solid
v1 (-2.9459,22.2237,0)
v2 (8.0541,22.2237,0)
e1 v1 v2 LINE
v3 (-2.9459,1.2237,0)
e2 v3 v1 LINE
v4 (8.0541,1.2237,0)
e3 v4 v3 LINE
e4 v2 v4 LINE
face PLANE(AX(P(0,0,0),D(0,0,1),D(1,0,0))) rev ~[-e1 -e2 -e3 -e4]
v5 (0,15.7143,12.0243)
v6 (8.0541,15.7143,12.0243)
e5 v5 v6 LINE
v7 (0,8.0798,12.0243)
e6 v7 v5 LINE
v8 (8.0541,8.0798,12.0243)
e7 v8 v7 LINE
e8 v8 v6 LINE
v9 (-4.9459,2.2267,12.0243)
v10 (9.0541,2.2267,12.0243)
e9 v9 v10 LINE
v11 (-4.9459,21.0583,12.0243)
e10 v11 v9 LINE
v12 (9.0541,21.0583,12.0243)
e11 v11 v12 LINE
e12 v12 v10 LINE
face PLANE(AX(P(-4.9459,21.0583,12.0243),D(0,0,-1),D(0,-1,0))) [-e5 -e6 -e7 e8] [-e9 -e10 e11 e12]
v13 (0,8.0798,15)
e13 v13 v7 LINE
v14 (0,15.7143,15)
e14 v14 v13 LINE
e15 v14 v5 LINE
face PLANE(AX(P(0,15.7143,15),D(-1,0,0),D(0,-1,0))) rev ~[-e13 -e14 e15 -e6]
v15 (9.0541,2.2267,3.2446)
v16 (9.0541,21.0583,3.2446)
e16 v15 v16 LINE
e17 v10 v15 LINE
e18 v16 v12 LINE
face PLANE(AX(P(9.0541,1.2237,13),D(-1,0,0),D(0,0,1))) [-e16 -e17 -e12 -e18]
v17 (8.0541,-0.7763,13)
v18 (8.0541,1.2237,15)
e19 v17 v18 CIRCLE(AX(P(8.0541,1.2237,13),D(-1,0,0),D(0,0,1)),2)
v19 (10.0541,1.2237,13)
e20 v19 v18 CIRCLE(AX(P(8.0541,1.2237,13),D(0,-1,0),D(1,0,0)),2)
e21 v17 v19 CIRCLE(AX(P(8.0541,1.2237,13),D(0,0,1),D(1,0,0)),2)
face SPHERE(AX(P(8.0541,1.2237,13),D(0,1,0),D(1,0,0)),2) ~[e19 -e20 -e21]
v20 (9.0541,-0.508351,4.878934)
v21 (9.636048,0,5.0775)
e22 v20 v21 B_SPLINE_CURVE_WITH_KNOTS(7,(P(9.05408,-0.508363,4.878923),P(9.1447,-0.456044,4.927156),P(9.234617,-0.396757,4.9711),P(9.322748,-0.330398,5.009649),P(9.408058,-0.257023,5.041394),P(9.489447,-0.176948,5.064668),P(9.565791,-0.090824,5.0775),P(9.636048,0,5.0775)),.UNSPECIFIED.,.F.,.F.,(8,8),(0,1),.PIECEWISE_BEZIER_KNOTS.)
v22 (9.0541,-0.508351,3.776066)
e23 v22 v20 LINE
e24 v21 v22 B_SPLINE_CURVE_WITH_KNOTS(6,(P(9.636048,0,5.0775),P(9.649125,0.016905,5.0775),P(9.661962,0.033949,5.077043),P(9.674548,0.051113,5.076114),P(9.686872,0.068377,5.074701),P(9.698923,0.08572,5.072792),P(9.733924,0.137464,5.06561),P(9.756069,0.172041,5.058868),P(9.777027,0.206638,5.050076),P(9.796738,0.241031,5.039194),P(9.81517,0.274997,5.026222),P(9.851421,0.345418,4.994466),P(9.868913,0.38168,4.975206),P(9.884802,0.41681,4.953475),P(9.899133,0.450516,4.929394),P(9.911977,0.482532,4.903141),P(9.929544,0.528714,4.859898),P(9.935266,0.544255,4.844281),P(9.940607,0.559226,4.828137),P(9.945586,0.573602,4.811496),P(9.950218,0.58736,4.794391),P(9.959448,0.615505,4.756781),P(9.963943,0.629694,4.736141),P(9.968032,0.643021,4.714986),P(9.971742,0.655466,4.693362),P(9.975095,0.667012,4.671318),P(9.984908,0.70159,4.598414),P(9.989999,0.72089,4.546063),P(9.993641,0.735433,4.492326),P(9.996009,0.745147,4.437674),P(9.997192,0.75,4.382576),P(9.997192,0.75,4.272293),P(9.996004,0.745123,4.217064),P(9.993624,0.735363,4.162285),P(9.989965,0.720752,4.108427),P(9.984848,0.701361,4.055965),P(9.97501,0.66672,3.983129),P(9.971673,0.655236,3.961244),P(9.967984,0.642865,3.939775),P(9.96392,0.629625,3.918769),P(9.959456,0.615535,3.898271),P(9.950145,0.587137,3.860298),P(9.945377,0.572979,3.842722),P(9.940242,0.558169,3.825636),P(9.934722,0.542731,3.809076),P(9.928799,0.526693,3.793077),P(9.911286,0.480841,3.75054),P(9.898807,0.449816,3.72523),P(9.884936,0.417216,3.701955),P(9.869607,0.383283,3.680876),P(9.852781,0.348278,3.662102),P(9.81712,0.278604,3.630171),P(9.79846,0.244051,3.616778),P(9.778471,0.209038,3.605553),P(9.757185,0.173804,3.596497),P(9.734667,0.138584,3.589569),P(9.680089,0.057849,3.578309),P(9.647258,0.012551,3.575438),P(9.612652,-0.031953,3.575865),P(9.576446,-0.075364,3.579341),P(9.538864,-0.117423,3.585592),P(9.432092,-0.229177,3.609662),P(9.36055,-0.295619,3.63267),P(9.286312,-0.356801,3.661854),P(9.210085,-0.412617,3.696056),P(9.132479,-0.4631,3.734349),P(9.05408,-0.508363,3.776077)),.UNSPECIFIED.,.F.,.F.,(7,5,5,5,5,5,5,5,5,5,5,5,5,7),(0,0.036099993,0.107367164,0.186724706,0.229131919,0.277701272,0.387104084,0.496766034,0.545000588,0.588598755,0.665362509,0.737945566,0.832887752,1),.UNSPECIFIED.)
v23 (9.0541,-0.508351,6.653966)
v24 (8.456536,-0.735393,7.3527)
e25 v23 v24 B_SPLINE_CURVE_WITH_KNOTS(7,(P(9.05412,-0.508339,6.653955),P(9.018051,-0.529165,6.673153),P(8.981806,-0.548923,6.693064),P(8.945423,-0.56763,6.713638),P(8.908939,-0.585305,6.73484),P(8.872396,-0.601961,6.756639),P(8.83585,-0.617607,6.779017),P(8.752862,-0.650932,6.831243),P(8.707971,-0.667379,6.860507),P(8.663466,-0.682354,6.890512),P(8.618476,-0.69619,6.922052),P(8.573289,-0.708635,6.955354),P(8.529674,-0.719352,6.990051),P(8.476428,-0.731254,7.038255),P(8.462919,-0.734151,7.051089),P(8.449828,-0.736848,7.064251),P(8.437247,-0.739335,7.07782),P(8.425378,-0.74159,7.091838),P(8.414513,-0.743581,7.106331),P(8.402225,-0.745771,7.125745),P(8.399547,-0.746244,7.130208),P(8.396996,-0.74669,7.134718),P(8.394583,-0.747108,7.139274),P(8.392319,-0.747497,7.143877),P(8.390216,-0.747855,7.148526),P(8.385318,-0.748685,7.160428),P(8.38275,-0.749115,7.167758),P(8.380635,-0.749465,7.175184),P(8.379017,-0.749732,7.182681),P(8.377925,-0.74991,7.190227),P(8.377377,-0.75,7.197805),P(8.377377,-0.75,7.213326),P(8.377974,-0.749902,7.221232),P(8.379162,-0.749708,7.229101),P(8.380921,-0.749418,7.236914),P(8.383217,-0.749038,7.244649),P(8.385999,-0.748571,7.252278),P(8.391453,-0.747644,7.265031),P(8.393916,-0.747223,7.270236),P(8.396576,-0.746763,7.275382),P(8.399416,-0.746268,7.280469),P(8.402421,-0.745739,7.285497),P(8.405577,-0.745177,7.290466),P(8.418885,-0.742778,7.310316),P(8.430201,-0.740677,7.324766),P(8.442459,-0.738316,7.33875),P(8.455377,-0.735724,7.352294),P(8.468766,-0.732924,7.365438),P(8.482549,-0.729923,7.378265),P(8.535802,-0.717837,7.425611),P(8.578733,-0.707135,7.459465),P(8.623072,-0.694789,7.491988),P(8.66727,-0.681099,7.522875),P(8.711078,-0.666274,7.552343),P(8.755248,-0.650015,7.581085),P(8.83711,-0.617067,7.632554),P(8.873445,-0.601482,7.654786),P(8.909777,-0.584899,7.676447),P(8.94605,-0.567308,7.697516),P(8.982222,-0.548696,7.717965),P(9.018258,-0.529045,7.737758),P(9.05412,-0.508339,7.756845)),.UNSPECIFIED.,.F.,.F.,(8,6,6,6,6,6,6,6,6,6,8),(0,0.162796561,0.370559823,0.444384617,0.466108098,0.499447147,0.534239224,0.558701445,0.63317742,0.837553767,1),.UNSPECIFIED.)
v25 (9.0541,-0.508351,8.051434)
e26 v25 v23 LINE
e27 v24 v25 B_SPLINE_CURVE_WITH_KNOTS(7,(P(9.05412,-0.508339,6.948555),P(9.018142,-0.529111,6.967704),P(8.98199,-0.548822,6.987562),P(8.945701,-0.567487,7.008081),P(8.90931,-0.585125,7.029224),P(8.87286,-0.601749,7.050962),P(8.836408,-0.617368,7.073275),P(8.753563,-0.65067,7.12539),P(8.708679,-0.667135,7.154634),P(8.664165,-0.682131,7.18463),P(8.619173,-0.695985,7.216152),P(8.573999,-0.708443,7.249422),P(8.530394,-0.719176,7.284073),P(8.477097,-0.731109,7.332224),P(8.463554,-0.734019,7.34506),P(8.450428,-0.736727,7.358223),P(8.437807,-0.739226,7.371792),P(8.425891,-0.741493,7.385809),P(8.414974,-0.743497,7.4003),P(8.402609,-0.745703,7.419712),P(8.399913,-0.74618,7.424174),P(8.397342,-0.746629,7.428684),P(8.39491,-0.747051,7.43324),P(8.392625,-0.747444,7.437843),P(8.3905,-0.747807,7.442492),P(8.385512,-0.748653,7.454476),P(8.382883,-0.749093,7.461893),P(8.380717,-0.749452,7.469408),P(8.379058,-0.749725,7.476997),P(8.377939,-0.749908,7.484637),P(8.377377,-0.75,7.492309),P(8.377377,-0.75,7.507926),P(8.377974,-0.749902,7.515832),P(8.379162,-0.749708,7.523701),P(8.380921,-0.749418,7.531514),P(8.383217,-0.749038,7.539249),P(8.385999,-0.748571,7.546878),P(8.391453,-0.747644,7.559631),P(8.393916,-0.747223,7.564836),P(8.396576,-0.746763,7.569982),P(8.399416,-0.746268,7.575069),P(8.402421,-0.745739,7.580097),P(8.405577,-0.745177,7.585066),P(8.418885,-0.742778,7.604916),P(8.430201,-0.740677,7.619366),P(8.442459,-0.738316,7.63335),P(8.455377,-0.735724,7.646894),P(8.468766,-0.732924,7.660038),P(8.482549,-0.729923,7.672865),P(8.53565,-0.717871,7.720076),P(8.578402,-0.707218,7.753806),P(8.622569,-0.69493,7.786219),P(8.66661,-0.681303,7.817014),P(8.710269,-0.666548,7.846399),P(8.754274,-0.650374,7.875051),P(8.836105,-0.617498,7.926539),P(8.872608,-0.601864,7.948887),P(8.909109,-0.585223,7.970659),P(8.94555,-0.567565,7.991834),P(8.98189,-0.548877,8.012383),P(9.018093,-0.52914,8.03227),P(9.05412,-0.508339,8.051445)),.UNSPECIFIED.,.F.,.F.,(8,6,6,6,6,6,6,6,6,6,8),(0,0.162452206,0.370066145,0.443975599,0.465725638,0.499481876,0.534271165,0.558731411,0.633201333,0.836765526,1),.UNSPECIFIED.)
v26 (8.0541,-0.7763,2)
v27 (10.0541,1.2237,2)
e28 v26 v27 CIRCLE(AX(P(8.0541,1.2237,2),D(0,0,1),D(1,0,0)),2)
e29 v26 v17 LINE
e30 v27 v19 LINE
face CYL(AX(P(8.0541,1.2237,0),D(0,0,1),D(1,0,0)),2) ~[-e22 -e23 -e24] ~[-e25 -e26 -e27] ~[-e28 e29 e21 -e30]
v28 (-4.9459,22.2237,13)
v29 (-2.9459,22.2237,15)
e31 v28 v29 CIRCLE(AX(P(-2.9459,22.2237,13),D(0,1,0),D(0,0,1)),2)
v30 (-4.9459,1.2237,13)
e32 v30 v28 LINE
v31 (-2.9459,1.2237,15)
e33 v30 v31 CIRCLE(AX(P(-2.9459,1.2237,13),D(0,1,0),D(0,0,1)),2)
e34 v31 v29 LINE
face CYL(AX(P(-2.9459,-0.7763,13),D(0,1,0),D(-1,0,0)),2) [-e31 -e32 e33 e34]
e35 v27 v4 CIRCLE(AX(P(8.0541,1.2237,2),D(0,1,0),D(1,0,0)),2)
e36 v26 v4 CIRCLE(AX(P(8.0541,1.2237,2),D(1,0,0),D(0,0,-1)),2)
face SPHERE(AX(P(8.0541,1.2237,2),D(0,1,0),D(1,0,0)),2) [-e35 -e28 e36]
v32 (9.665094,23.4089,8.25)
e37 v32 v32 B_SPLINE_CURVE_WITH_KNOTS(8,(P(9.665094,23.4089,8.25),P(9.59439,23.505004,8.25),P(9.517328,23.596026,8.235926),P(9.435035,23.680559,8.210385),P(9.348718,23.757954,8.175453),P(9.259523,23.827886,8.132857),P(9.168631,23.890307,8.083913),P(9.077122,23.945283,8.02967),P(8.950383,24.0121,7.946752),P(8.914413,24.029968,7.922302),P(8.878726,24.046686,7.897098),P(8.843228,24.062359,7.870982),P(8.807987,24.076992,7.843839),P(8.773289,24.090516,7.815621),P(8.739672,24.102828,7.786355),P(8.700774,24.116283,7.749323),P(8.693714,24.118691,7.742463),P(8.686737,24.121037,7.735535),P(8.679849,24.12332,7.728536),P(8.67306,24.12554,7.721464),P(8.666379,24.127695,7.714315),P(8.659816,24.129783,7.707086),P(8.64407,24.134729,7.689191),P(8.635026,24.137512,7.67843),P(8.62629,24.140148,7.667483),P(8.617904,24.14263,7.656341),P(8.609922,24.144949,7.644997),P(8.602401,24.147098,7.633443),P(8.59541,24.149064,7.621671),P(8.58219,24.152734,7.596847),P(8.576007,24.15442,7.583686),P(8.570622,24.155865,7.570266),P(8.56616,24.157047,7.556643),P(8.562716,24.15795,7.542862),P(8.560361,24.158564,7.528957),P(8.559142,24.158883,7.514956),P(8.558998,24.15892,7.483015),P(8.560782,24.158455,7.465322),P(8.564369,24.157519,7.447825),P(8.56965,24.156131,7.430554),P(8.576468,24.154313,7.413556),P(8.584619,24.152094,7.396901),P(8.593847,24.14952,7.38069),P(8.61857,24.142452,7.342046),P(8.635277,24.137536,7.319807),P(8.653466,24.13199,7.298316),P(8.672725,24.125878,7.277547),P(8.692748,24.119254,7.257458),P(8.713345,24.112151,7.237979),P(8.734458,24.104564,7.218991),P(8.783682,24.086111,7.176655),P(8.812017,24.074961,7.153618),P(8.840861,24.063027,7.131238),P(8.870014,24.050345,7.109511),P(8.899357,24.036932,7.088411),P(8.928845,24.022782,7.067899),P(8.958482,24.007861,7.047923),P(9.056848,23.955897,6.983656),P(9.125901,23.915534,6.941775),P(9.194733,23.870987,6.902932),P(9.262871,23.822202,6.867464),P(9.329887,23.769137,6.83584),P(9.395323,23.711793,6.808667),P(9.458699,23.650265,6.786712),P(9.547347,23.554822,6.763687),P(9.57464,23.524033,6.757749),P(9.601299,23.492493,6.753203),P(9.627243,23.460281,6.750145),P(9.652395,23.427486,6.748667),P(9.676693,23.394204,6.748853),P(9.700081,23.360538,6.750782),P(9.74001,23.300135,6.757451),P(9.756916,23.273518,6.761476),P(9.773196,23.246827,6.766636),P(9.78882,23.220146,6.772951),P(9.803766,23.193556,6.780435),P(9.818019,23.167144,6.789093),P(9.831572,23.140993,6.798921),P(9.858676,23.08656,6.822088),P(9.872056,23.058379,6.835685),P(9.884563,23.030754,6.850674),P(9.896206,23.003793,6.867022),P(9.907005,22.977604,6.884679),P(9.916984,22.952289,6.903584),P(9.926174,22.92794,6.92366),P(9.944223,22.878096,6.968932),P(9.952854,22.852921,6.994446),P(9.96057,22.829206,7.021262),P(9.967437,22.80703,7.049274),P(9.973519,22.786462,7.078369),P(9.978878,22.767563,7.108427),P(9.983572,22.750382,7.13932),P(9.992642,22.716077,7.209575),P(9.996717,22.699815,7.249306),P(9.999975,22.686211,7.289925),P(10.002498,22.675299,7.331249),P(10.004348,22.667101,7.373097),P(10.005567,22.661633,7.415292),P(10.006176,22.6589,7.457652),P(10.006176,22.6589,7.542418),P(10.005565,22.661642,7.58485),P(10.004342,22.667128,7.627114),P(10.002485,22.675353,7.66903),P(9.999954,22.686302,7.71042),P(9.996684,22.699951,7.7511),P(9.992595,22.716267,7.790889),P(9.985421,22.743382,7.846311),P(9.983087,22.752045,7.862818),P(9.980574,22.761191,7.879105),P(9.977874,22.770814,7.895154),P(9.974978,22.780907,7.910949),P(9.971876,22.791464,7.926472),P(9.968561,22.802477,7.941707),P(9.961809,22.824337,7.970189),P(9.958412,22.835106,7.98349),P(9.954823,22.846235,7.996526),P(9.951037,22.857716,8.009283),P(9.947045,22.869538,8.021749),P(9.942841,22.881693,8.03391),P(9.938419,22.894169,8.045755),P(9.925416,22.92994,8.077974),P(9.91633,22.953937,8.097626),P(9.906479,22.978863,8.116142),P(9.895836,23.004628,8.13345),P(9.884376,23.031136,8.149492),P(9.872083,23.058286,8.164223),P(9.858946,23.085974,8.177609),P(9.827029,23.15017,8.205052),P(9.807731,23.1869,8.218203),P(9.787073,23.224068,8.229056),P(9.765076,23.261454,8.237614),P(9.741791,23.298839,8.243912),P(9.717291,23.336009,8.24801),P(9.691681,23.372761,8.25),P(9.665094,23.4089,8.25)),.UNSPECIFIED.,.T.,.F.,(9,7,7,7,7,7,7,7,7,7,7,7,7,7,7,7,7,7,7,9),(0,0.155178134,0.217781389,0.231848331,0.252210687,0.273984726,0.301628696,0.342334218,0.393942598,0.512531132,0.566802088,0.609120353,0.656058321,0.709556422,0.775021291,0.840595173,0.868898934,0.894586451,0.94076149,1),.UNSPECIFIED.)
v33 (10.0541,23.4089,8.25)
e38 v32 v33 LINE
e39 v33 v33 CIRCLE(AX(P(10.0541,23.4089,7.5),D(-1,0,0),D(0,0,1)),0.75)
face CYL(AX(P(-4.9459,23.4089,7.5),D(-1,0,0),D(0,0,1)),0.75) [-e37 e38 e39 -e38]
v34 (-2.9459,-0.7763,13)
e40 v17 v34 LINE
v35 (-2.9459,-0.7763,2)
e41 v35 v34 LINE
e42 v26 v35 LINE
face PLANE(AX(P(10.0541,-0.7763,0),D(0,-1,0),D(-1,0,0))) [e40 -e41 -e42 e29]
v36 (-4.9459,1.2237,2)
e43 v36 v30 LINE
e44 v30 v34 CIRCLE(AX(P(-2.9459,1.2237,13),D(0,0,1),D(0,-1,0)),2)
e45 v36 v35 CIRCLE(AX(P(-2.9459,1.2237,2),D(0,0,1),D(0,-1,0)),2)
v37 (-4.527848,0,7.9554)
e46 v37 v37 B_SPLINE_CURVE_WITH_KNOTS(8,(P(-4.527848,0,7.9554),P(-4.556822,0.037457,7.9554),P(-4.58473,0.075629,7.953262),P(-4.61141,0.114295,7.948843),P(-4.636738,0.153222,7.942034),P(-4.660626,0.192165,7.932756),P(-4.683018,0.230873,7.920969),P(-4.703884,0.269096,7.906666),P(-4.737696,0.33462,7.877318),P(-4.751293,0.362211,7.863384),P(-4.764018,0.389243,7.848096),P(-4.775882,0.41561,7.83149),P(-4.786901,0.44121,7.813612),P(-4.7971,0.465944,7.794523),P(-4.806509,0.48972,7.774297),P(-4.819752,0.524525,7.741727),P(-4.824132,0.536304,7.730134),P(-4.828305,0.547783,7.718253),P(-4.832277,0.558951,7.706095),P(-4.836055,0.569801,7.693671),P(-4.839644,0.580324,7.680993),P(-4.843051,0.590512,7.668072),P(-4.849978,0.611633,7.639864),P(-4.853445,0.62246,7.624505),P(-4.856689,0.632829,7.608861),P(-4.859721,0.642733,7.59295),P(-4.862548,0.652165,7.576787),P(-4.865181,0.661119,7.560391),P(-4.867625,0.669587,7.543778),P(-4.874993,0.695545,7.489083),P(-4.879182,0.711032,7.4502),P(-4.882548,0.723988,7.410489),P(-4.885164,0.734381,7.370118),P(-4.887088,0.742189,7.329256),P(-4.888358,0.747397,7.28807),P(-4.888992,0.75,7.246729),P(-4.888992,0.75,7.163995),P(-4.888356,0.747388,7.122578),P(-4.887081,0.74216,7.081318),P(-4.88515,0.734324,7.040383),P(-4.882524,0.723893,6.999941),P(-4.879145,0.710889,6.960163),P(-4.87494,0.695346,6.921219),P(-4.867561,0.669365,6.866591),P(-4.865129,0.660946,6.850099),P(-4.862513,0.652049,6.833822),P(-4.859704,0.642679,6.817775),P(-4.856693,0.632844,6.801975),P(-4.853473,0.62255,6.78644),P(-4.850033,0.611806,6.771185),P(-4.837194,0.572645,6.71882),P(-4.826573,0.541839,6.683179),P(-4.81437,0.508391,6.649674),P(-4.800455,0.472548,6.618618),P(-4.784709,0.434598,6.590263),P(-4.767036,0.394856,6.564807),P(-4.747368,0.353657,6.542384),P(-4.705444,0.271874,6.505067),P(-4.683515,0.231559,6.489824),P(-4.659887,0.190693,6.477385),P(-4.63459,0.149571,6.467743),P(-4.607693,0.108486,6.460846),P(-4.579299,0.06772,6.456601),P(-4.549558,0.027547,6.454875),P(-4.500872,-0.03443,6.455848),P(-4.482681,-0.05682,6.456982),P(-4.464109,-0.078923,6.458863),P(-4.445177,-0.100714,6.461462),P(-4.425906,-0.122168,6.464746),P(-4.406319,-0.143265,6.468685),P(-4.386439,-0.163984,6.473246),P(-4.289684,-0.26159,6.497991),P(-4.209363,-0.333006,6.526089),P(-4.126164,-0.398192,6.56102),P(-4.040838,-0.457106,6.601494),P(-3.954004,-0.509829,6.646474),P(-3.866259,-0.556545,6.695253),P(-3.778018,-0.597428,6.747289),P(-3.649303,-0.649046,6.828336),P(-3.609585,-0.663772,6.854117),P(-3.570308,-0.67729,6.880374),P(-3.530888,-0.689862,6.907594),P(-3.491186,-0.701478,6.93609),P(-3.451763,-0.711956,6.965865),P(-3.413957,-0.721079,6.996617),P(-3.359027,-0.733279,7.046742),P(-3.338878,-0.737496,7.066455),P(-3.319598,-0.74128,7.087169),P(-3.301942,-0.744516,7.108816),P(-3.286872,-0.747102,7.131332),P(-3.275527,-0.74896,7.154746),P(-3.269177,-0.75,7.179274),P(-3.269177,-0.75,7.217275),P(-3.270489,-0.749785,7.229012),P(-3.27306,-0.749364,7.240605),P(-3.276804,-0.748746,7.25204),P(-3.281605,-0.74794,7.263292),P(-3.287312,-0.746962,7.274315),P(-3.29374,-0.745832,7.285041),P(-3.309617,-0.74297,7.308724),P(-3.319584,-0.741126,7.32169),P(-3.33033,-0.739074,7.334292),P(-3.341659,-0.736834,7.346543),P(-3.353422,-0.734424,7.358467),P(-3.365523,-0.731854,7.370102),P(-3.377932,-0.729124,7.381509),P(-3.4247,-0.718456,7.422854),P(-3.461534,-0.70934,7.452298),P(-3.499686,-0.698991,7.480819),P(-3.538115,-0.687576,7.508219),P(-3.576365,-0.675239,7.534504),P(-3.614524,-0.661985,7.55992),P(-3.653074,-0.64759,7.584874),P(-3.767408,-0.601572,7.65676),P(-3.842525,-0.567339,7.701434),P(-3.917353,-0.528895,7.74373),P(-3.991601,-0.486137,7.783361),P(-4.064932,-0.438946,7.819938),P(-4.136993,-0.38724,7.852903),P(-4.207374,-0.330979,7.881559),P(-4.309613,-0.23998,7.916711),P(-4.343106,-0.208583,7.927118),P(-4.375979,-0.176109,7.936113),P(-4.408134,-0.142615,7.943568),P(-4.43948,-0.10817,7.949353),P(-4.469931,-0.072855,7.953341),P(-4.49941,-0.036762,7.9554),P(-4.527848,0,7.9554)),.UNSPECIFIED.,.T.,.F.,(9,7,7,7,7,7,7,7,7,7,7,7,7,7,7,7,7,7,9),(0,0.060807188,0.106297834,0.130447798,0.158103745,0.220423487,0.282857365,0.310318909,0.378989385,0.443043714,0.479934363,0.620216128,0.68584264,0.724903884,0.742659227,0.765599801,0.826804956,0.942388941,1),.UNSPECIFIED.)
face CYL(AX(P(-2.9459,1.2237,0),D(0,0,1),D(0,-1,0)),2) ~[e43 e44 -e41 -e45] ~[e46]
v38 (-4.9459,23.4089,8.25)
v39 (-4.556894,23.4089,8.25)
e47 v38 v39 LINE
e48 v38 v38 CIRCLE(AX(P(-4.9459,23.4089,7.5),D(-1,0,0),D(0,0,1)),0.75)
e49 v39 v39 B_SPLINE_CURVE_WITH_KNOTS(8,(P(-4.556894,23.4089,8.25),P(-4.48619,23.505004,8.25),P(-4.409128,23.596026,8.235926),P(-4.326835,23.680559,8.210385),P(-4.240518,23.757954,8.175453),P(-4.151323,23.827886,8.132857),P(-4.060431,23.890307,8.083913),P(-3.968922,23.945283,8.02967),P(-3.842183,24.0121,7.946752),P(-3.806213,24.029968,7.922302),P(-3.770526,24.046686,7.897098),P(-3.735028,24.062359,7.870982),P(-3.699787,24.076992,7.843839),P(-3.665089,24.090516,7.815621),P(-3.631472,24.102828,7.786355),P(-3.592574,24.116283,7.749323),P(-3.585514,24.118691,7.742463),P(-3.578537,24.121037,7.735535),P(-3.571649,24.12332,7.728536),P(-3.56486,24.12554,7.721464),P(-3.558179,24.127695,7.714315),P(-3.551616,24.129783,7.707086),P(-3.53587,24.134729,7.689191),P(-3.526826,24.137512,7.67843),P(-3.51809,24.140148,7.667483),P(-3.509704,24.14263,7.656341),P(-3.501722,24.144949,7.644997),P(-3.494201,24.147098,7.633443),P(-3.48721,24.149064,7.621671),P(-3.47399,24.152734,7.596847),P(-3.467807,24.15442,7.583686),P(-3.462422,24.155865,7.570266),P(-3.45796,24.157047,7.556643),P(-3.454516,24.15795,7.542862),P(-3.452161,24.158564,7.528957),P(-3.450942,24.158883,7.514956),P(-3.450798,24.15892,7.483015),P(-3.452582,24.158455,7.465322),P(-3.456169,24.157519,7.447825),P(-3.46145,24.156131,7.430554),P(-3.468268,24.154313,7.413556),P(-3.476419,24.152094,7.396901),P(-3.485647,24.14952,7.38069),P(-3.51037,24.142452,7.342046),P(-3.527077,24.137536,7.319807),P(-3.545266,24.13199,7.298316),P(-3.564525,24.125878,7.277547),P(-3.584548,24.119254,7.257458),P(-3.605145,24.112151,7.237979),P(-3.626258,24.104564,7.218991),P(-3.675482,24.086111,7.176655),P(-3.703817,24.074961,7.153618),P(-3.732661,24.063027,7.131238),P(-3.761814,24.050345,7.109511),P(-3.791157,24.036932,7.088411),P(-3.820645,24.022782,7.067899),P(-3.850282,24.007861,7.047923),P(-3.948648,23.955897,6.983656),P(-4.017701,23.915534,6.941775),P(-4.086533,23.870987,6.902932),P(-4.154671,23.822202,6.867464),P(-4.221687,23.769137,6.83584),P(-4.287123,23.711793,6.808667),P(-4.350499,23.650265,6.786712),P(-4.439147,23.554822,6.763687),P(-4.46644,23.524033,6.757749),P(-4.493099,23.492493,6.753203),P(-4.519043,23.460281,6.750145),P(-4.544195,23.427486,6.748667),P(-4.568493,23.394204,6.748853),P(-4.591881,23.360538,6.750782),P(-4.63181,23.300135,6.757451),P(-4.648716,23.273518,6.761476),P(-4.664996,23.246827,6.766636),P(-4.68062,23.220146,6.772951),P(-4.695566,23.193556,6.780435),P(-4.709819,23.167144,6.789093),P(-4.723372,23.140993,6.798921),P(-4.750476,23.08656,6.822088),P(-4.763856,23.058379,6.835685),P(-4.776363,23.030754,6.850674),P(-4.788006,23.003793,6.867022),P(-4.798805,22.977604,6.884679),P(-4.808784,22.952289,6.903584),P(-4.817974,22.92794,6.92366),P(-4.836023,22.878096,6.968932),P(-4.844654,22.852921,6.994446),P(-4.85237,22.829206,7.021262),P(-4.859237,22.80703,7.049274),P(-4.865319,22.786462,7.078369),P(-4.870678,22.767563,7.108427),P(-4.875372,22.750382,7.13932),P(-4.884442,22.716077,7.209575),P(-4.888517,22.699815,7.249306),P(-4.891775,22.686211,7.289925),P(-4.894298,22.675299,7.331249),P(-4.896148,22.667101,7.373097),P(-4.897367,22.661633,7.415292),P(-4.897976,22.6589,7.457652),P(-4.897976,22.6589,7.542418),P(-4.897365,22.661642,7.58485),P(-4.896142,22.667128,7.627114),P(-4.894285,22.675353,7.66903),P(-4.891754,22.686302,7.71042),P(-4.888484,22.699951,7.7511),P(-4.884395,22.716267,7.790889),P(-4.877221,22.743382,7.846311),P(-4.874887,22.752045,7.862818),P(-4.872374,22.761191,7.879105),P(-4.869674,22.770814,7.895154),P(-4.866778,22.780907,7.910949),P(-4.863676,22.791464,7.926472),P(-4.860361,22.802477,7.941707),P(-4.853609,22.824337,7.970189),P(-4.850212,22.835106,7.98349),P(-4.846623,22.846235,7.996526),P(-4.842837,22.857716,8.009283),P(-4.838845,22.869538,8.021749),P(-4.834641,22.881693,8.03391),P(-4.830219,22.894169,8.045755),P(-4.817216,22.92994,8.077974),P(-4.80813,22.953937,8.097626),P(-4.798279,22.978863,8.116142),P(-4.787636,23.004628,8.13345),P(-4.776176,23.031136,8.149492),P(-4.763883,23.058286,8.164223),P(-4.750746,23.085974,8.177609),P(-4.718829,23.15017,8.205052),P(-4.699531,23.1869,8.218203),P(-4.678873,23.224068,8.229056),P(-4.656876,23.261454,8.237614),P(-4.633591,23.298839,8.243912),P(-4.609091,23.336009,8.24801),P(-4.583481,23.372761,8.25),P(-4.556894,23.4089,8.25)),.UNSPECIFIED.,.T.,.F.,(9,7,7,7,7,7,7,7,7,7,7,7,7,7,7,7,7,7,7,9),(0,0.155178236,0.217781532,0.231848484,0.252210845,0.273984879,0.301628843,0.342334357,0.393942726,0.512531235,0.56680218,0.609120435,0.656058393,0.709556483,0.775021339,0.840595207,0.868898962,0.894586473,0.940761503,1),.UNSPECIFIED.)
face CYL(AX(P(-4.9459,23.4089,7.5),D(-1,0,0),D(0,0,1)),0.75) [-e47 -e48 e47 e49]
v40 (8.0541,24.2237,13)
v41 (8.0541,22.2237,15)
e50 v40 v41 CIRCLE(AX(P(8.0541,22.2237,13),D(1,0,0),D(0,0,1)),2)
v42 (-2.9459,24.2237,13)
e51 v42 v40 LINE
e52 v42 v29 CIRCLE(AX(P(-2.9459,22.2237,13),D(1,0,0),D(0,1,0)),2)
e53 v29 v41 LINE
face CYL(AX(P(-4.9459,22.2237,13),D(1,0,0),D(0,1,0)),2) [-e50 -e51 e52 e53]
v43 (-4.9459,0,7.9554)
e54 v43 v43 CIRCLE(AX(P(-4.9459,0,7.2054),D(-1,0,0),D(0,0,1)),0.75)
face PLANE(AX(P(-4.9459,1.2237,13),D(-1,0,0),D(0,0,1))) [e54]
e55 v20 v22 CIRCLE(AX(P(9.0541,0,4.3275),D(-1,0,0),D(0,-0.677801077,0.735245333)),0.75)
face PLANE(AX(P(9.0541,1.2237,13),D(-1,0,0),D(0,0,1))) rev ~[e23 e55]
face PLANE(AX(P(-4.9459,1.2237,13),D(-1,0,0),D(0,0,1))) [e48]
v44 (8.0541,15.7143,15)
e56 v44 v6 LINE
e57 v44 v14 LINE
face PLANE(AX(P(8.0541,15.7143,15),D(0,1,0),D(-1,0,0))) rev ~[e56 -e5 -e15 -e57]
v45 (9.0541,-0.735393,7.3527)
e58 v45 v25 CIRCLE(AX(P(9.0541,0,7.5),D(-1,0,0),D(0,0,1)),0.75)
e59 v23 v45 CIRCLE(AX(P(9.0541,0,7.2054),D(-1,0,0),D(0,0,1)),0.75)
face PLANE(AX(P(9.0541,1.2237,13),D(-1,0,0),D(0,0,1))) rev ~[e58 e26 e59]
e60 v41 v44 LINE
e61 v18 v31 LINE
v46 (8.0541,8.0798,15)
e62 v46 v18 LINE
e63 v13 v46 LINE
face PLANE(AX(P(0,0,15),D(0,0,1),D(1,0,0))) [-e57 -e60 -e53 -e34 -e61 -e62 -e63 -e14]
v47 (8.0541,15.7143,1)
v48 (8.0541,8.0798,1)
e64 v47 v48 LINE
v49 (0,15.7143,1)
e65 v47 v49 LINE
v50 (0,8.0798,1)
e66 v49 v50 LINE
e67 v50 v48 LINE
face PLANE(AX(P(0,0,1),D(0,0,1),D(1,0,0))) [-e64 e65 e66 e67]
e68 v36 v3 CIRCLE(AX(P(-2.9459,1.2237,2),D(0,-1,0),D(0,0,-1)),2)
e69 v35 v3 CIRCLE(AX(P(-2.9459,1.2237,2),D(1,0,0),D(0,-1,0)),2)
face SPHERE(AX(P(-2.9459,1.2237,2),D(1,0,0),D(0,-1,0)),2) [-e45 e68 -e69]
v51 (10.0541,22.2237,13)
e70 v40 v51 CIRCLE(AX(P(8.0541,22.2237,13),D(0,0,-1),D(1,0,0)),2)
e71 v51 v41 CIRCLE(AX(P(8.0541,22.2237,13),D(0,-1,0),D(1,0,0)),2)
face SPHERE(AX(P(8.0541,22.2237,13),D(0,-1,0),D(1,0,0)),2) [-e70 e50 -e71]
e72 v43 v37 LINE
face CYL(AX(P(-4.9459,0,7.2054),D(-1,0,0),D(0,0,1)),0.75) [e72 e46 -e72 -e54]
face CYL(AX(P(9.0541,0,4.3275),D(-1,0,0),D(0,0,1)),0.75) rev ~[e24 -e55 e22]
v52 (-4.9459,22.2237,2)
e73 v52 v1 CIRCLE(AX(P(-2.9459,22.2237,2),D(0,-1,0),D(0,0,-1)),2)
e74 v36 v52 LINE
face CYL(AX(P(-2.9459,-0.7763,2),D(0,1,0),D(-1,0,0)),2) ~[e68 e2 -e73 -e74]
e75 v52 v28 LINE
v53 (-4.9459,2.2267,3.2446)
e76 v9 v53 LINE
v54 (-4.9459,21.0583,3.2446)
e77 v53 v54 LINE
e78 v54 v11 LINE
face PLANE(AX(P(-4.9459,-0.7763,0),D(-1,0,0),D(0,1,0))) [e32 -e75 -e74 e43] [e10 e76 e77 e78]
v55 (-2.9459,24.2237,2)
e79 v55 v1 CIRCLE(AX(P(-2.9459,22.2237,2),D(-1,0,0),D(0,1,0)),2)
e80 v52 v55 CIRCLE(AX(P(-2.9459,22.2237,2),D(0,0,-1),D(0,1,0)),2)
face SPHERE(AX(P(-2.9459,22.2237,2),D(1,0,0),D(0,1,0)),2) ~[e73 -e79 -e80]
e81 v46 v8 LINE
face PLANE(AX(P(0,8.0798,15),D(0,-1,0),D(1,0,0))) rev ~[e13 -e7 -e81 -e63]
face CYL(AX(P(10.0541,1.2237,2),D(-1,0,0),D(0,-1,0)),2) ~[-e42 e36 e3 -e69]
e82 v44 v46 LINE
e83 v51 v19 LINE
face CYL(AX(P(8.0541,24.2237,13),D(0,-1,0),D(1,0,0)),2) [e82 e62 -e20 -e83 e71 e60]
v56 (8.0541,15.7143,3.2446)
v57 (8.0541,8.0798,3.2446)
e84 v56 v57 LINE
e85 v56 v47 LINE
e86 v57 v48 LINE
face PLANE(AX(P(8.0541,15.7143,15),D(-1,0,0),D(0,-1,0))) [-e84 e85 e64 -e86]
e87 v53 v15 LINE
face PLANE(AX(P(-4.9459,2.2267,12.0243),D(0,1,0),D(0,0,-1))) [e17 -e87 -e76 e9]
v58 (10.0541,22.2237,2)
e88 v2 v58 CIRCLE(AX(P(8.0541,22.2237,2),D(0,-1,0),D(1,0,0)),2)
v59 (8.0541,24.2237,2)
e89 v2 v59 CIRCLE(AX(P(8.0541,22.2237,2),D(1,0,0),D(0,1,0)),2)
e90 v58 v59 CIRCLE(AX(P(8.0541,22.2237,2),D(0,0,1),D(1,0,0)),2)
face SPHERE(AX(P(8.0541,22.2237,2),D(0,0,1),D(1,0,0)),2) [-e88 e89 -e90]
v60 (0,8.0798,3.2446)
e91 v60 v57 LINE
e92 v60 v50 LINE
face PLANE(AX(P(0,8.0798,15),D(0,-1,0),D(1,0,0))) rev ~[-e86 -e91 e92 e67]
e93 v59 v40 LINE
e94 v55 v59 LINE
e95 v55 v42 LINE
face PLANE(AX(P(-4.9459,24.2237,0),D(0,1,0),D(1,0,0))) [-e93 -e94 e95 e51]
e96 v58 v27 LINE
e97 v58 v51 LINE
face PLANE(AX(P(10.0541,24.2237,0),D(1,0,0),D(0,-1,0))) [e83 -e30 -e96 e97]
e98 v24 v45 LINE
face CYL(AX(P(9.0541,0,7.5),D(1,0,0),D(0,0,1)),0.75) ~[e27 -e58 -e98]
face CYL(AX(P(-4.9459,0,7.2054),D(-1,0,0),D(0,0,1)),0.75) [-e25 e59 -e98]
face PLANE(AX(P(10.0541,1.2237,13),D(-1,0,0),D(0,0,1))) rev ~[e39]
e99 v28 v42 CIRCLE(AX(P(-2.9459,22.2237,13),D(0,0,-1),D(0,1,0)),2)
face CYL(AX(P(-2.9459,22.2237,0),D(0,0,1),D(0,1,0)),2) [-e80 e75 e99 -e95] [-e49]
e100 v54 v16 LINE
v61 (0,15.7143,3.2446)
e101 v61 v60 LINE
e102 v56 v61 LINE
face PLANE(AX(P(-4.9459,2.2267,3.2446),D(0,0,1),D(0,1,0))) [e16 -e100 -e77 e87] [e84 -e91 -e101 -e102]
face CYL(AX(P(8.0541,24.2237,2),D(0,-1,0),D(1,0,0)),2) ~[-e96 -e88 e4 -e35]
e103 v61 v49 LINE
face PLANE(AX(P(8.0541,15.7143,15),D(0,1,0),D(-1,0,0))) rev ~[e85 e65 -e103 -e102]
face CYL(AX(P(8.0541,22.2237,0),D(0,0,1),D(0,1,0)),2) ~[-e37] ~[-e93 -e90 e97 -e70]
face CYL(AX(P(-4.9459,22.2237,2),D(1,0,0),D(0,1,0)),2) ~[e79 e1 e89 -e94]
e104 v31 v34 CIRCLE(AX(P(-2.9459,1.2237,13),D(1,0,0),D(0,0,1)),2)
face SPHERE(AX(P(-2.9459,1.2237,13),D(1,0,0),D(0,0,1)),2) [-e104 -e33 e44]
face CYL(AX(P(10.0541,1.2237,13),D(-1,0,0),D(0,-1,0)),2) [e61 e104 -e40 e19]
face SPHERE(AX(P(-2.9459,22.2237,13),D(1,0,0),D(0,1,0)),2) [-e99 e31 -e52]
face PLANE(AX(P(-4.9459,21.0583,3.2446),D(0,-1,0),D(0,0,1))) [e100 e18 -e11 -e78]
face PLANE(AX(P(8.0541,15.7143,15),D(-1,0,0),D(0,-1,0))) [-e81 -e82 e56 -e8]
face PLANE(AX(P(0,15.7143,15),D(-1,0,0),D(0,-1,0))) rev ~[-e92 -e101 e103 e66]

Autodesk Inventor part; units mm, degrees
ref_plane "YZ Plane" through (0, 0, 0) normal (1, 0, 0) x (0, 1, 0)
ref_plane "XZ Plane" through (0, 0, 0) normal (0, 1, 0) x (-1, 0, 0)
ref_plane "XY Plane" through (0, 0, 0) normal (0, 0, 1) x (1, 0, 0)
sketch "Sketch1" plane through (0, 0, 0) normal (0, 0, 1) x (1, 0, 0)
  line L0 (-4.9459, 24.2237) -> (10.0541, 24.2237)
  line L1 (10.0541, 24.2237) -> (10.0541, -0.7763)
  line L2 (10.0541, -0.7763) -> (-4.9459, -0.7763)
  line L3 (-4.9459, -0.7763) -> (-4.9459, 24.2237)
  point P0 (0, 0)
  dimension "d0" = 15
  dimension "d1" = 25
extrude "Extrusion1" add sketch "Sketch1" along normal blind 15
fillet "Fillet1" radius 2 12 edges at (10.0541, 11.7237, 15) (10.0541, 24.2237, 7.5) (10.0541, 11.7237, 0) (10.0541, -0.7763, 7.5) (2.5541, -0.7763, 15) (2.5541, 24.2237, 15) (2.5541, 24.2237, 0) (2.5541, -0.7763, 0) (-4.9459, 24.2237, 7.5) (-4.9459, 11.7237, 15) (-4.9459, -0.7763, 7.5) (-4.9459, 11.7237, 0)
sketch "Sketch2" plane through (-4.9459, 1.2237, 13) normal (-1, 0, 0) x (0, 0, 1)
  line L0 (-9.7554, 1.003) -> (-9.7554, 19.8346)
  line L1 (-11, 0) -> (-11, 21) projected
  line L2 (-9.7554, 19.8346) -> (-0.9757, 19.8346)
  line L3 (-0.9757, 19.8346) -> (-0.9757, 1.003)
  line L4 (-0.9757, 1.003) -> (-9.7554, 1.003)
  point P0 (-13, -1.2237)
extrude "Extrusion2" cut sketch "Sketch2" against normal blind 14
sketch "Sketch3" plane through (0, 0, 15) normal (0, 0, 1) x (1, 0, 0)
  line L0 (8.0541, 22.2237) -> (8.0541, 1.2237) projected
  line L1 (0, 8.0798) -> (8.0541, 8.0798)
  line L2 (8.0541, 8.0798) -> (8.0541, 15.7143)
  line L3 (8.0541, 15.7143) -> (0, 15.7143)
  line L4 (0, 15.7143) -> (0, 8.0798)
  point P0 (0, 0)
extrude "Extrusion3" cut sketch "Sketch3" against normal blind 14
sketch "Sketch4" plane through (-4.9459, 1.2237, 13) normal (-1, 0, 0) x (0, 0, 1)
  circle A0 centre (-5.5, 22.1852) radius 0.75
  point P0 (-13, -1.2237)
  dimension "d9" = 1.5
extrude "Extrusion4" add sketch "Sketch4" against normal blind 15
sketch "Sketch5" plane through (9.0541, 1.2237, 13) normal (-1, 0, 0) x (0, 0, 1)
  circle A0 centre (-8.6725, -1.2237) radius 0.75
  point P0 (-13, -1.2237)
  dimension "d12" = 1.5
extrude "Extrusion5" cut sketch "Sketch5" against normal blind 15
sketch "Sketch6" plane through (9.0541, 1.2237, 13) normal (-1, 0, 0) x (0, 0, 1)
  circle A0 centre (-5.5, -1.2237) radius 0.75
  point P0 (-13, -1.2237)
  dimension "d15" = 1.5
extrude "Extrusion6" add sketch "Sketch6" along normal blind 2
sketch "Sketch7" plane through (-4.9459, 2.2267, 12.0243) normal (0, 1, 0) x (1, 0, 0)
  point P0 (4.9459, 12.0243)
sketch "Sketch8" plane through (-4.9459, 1.2237, 13) normal (-1, 0, 0) x (0, 0, 1)
  circle A0 centre (-5.7946, -1.2237) radius 0.75
  point P0 (-13, -1.2237)
  dimension "d18" = 1.5
extrude "Extrusion7" add sketch "Sketch8" against normal blind 14
properties part number "F5"
